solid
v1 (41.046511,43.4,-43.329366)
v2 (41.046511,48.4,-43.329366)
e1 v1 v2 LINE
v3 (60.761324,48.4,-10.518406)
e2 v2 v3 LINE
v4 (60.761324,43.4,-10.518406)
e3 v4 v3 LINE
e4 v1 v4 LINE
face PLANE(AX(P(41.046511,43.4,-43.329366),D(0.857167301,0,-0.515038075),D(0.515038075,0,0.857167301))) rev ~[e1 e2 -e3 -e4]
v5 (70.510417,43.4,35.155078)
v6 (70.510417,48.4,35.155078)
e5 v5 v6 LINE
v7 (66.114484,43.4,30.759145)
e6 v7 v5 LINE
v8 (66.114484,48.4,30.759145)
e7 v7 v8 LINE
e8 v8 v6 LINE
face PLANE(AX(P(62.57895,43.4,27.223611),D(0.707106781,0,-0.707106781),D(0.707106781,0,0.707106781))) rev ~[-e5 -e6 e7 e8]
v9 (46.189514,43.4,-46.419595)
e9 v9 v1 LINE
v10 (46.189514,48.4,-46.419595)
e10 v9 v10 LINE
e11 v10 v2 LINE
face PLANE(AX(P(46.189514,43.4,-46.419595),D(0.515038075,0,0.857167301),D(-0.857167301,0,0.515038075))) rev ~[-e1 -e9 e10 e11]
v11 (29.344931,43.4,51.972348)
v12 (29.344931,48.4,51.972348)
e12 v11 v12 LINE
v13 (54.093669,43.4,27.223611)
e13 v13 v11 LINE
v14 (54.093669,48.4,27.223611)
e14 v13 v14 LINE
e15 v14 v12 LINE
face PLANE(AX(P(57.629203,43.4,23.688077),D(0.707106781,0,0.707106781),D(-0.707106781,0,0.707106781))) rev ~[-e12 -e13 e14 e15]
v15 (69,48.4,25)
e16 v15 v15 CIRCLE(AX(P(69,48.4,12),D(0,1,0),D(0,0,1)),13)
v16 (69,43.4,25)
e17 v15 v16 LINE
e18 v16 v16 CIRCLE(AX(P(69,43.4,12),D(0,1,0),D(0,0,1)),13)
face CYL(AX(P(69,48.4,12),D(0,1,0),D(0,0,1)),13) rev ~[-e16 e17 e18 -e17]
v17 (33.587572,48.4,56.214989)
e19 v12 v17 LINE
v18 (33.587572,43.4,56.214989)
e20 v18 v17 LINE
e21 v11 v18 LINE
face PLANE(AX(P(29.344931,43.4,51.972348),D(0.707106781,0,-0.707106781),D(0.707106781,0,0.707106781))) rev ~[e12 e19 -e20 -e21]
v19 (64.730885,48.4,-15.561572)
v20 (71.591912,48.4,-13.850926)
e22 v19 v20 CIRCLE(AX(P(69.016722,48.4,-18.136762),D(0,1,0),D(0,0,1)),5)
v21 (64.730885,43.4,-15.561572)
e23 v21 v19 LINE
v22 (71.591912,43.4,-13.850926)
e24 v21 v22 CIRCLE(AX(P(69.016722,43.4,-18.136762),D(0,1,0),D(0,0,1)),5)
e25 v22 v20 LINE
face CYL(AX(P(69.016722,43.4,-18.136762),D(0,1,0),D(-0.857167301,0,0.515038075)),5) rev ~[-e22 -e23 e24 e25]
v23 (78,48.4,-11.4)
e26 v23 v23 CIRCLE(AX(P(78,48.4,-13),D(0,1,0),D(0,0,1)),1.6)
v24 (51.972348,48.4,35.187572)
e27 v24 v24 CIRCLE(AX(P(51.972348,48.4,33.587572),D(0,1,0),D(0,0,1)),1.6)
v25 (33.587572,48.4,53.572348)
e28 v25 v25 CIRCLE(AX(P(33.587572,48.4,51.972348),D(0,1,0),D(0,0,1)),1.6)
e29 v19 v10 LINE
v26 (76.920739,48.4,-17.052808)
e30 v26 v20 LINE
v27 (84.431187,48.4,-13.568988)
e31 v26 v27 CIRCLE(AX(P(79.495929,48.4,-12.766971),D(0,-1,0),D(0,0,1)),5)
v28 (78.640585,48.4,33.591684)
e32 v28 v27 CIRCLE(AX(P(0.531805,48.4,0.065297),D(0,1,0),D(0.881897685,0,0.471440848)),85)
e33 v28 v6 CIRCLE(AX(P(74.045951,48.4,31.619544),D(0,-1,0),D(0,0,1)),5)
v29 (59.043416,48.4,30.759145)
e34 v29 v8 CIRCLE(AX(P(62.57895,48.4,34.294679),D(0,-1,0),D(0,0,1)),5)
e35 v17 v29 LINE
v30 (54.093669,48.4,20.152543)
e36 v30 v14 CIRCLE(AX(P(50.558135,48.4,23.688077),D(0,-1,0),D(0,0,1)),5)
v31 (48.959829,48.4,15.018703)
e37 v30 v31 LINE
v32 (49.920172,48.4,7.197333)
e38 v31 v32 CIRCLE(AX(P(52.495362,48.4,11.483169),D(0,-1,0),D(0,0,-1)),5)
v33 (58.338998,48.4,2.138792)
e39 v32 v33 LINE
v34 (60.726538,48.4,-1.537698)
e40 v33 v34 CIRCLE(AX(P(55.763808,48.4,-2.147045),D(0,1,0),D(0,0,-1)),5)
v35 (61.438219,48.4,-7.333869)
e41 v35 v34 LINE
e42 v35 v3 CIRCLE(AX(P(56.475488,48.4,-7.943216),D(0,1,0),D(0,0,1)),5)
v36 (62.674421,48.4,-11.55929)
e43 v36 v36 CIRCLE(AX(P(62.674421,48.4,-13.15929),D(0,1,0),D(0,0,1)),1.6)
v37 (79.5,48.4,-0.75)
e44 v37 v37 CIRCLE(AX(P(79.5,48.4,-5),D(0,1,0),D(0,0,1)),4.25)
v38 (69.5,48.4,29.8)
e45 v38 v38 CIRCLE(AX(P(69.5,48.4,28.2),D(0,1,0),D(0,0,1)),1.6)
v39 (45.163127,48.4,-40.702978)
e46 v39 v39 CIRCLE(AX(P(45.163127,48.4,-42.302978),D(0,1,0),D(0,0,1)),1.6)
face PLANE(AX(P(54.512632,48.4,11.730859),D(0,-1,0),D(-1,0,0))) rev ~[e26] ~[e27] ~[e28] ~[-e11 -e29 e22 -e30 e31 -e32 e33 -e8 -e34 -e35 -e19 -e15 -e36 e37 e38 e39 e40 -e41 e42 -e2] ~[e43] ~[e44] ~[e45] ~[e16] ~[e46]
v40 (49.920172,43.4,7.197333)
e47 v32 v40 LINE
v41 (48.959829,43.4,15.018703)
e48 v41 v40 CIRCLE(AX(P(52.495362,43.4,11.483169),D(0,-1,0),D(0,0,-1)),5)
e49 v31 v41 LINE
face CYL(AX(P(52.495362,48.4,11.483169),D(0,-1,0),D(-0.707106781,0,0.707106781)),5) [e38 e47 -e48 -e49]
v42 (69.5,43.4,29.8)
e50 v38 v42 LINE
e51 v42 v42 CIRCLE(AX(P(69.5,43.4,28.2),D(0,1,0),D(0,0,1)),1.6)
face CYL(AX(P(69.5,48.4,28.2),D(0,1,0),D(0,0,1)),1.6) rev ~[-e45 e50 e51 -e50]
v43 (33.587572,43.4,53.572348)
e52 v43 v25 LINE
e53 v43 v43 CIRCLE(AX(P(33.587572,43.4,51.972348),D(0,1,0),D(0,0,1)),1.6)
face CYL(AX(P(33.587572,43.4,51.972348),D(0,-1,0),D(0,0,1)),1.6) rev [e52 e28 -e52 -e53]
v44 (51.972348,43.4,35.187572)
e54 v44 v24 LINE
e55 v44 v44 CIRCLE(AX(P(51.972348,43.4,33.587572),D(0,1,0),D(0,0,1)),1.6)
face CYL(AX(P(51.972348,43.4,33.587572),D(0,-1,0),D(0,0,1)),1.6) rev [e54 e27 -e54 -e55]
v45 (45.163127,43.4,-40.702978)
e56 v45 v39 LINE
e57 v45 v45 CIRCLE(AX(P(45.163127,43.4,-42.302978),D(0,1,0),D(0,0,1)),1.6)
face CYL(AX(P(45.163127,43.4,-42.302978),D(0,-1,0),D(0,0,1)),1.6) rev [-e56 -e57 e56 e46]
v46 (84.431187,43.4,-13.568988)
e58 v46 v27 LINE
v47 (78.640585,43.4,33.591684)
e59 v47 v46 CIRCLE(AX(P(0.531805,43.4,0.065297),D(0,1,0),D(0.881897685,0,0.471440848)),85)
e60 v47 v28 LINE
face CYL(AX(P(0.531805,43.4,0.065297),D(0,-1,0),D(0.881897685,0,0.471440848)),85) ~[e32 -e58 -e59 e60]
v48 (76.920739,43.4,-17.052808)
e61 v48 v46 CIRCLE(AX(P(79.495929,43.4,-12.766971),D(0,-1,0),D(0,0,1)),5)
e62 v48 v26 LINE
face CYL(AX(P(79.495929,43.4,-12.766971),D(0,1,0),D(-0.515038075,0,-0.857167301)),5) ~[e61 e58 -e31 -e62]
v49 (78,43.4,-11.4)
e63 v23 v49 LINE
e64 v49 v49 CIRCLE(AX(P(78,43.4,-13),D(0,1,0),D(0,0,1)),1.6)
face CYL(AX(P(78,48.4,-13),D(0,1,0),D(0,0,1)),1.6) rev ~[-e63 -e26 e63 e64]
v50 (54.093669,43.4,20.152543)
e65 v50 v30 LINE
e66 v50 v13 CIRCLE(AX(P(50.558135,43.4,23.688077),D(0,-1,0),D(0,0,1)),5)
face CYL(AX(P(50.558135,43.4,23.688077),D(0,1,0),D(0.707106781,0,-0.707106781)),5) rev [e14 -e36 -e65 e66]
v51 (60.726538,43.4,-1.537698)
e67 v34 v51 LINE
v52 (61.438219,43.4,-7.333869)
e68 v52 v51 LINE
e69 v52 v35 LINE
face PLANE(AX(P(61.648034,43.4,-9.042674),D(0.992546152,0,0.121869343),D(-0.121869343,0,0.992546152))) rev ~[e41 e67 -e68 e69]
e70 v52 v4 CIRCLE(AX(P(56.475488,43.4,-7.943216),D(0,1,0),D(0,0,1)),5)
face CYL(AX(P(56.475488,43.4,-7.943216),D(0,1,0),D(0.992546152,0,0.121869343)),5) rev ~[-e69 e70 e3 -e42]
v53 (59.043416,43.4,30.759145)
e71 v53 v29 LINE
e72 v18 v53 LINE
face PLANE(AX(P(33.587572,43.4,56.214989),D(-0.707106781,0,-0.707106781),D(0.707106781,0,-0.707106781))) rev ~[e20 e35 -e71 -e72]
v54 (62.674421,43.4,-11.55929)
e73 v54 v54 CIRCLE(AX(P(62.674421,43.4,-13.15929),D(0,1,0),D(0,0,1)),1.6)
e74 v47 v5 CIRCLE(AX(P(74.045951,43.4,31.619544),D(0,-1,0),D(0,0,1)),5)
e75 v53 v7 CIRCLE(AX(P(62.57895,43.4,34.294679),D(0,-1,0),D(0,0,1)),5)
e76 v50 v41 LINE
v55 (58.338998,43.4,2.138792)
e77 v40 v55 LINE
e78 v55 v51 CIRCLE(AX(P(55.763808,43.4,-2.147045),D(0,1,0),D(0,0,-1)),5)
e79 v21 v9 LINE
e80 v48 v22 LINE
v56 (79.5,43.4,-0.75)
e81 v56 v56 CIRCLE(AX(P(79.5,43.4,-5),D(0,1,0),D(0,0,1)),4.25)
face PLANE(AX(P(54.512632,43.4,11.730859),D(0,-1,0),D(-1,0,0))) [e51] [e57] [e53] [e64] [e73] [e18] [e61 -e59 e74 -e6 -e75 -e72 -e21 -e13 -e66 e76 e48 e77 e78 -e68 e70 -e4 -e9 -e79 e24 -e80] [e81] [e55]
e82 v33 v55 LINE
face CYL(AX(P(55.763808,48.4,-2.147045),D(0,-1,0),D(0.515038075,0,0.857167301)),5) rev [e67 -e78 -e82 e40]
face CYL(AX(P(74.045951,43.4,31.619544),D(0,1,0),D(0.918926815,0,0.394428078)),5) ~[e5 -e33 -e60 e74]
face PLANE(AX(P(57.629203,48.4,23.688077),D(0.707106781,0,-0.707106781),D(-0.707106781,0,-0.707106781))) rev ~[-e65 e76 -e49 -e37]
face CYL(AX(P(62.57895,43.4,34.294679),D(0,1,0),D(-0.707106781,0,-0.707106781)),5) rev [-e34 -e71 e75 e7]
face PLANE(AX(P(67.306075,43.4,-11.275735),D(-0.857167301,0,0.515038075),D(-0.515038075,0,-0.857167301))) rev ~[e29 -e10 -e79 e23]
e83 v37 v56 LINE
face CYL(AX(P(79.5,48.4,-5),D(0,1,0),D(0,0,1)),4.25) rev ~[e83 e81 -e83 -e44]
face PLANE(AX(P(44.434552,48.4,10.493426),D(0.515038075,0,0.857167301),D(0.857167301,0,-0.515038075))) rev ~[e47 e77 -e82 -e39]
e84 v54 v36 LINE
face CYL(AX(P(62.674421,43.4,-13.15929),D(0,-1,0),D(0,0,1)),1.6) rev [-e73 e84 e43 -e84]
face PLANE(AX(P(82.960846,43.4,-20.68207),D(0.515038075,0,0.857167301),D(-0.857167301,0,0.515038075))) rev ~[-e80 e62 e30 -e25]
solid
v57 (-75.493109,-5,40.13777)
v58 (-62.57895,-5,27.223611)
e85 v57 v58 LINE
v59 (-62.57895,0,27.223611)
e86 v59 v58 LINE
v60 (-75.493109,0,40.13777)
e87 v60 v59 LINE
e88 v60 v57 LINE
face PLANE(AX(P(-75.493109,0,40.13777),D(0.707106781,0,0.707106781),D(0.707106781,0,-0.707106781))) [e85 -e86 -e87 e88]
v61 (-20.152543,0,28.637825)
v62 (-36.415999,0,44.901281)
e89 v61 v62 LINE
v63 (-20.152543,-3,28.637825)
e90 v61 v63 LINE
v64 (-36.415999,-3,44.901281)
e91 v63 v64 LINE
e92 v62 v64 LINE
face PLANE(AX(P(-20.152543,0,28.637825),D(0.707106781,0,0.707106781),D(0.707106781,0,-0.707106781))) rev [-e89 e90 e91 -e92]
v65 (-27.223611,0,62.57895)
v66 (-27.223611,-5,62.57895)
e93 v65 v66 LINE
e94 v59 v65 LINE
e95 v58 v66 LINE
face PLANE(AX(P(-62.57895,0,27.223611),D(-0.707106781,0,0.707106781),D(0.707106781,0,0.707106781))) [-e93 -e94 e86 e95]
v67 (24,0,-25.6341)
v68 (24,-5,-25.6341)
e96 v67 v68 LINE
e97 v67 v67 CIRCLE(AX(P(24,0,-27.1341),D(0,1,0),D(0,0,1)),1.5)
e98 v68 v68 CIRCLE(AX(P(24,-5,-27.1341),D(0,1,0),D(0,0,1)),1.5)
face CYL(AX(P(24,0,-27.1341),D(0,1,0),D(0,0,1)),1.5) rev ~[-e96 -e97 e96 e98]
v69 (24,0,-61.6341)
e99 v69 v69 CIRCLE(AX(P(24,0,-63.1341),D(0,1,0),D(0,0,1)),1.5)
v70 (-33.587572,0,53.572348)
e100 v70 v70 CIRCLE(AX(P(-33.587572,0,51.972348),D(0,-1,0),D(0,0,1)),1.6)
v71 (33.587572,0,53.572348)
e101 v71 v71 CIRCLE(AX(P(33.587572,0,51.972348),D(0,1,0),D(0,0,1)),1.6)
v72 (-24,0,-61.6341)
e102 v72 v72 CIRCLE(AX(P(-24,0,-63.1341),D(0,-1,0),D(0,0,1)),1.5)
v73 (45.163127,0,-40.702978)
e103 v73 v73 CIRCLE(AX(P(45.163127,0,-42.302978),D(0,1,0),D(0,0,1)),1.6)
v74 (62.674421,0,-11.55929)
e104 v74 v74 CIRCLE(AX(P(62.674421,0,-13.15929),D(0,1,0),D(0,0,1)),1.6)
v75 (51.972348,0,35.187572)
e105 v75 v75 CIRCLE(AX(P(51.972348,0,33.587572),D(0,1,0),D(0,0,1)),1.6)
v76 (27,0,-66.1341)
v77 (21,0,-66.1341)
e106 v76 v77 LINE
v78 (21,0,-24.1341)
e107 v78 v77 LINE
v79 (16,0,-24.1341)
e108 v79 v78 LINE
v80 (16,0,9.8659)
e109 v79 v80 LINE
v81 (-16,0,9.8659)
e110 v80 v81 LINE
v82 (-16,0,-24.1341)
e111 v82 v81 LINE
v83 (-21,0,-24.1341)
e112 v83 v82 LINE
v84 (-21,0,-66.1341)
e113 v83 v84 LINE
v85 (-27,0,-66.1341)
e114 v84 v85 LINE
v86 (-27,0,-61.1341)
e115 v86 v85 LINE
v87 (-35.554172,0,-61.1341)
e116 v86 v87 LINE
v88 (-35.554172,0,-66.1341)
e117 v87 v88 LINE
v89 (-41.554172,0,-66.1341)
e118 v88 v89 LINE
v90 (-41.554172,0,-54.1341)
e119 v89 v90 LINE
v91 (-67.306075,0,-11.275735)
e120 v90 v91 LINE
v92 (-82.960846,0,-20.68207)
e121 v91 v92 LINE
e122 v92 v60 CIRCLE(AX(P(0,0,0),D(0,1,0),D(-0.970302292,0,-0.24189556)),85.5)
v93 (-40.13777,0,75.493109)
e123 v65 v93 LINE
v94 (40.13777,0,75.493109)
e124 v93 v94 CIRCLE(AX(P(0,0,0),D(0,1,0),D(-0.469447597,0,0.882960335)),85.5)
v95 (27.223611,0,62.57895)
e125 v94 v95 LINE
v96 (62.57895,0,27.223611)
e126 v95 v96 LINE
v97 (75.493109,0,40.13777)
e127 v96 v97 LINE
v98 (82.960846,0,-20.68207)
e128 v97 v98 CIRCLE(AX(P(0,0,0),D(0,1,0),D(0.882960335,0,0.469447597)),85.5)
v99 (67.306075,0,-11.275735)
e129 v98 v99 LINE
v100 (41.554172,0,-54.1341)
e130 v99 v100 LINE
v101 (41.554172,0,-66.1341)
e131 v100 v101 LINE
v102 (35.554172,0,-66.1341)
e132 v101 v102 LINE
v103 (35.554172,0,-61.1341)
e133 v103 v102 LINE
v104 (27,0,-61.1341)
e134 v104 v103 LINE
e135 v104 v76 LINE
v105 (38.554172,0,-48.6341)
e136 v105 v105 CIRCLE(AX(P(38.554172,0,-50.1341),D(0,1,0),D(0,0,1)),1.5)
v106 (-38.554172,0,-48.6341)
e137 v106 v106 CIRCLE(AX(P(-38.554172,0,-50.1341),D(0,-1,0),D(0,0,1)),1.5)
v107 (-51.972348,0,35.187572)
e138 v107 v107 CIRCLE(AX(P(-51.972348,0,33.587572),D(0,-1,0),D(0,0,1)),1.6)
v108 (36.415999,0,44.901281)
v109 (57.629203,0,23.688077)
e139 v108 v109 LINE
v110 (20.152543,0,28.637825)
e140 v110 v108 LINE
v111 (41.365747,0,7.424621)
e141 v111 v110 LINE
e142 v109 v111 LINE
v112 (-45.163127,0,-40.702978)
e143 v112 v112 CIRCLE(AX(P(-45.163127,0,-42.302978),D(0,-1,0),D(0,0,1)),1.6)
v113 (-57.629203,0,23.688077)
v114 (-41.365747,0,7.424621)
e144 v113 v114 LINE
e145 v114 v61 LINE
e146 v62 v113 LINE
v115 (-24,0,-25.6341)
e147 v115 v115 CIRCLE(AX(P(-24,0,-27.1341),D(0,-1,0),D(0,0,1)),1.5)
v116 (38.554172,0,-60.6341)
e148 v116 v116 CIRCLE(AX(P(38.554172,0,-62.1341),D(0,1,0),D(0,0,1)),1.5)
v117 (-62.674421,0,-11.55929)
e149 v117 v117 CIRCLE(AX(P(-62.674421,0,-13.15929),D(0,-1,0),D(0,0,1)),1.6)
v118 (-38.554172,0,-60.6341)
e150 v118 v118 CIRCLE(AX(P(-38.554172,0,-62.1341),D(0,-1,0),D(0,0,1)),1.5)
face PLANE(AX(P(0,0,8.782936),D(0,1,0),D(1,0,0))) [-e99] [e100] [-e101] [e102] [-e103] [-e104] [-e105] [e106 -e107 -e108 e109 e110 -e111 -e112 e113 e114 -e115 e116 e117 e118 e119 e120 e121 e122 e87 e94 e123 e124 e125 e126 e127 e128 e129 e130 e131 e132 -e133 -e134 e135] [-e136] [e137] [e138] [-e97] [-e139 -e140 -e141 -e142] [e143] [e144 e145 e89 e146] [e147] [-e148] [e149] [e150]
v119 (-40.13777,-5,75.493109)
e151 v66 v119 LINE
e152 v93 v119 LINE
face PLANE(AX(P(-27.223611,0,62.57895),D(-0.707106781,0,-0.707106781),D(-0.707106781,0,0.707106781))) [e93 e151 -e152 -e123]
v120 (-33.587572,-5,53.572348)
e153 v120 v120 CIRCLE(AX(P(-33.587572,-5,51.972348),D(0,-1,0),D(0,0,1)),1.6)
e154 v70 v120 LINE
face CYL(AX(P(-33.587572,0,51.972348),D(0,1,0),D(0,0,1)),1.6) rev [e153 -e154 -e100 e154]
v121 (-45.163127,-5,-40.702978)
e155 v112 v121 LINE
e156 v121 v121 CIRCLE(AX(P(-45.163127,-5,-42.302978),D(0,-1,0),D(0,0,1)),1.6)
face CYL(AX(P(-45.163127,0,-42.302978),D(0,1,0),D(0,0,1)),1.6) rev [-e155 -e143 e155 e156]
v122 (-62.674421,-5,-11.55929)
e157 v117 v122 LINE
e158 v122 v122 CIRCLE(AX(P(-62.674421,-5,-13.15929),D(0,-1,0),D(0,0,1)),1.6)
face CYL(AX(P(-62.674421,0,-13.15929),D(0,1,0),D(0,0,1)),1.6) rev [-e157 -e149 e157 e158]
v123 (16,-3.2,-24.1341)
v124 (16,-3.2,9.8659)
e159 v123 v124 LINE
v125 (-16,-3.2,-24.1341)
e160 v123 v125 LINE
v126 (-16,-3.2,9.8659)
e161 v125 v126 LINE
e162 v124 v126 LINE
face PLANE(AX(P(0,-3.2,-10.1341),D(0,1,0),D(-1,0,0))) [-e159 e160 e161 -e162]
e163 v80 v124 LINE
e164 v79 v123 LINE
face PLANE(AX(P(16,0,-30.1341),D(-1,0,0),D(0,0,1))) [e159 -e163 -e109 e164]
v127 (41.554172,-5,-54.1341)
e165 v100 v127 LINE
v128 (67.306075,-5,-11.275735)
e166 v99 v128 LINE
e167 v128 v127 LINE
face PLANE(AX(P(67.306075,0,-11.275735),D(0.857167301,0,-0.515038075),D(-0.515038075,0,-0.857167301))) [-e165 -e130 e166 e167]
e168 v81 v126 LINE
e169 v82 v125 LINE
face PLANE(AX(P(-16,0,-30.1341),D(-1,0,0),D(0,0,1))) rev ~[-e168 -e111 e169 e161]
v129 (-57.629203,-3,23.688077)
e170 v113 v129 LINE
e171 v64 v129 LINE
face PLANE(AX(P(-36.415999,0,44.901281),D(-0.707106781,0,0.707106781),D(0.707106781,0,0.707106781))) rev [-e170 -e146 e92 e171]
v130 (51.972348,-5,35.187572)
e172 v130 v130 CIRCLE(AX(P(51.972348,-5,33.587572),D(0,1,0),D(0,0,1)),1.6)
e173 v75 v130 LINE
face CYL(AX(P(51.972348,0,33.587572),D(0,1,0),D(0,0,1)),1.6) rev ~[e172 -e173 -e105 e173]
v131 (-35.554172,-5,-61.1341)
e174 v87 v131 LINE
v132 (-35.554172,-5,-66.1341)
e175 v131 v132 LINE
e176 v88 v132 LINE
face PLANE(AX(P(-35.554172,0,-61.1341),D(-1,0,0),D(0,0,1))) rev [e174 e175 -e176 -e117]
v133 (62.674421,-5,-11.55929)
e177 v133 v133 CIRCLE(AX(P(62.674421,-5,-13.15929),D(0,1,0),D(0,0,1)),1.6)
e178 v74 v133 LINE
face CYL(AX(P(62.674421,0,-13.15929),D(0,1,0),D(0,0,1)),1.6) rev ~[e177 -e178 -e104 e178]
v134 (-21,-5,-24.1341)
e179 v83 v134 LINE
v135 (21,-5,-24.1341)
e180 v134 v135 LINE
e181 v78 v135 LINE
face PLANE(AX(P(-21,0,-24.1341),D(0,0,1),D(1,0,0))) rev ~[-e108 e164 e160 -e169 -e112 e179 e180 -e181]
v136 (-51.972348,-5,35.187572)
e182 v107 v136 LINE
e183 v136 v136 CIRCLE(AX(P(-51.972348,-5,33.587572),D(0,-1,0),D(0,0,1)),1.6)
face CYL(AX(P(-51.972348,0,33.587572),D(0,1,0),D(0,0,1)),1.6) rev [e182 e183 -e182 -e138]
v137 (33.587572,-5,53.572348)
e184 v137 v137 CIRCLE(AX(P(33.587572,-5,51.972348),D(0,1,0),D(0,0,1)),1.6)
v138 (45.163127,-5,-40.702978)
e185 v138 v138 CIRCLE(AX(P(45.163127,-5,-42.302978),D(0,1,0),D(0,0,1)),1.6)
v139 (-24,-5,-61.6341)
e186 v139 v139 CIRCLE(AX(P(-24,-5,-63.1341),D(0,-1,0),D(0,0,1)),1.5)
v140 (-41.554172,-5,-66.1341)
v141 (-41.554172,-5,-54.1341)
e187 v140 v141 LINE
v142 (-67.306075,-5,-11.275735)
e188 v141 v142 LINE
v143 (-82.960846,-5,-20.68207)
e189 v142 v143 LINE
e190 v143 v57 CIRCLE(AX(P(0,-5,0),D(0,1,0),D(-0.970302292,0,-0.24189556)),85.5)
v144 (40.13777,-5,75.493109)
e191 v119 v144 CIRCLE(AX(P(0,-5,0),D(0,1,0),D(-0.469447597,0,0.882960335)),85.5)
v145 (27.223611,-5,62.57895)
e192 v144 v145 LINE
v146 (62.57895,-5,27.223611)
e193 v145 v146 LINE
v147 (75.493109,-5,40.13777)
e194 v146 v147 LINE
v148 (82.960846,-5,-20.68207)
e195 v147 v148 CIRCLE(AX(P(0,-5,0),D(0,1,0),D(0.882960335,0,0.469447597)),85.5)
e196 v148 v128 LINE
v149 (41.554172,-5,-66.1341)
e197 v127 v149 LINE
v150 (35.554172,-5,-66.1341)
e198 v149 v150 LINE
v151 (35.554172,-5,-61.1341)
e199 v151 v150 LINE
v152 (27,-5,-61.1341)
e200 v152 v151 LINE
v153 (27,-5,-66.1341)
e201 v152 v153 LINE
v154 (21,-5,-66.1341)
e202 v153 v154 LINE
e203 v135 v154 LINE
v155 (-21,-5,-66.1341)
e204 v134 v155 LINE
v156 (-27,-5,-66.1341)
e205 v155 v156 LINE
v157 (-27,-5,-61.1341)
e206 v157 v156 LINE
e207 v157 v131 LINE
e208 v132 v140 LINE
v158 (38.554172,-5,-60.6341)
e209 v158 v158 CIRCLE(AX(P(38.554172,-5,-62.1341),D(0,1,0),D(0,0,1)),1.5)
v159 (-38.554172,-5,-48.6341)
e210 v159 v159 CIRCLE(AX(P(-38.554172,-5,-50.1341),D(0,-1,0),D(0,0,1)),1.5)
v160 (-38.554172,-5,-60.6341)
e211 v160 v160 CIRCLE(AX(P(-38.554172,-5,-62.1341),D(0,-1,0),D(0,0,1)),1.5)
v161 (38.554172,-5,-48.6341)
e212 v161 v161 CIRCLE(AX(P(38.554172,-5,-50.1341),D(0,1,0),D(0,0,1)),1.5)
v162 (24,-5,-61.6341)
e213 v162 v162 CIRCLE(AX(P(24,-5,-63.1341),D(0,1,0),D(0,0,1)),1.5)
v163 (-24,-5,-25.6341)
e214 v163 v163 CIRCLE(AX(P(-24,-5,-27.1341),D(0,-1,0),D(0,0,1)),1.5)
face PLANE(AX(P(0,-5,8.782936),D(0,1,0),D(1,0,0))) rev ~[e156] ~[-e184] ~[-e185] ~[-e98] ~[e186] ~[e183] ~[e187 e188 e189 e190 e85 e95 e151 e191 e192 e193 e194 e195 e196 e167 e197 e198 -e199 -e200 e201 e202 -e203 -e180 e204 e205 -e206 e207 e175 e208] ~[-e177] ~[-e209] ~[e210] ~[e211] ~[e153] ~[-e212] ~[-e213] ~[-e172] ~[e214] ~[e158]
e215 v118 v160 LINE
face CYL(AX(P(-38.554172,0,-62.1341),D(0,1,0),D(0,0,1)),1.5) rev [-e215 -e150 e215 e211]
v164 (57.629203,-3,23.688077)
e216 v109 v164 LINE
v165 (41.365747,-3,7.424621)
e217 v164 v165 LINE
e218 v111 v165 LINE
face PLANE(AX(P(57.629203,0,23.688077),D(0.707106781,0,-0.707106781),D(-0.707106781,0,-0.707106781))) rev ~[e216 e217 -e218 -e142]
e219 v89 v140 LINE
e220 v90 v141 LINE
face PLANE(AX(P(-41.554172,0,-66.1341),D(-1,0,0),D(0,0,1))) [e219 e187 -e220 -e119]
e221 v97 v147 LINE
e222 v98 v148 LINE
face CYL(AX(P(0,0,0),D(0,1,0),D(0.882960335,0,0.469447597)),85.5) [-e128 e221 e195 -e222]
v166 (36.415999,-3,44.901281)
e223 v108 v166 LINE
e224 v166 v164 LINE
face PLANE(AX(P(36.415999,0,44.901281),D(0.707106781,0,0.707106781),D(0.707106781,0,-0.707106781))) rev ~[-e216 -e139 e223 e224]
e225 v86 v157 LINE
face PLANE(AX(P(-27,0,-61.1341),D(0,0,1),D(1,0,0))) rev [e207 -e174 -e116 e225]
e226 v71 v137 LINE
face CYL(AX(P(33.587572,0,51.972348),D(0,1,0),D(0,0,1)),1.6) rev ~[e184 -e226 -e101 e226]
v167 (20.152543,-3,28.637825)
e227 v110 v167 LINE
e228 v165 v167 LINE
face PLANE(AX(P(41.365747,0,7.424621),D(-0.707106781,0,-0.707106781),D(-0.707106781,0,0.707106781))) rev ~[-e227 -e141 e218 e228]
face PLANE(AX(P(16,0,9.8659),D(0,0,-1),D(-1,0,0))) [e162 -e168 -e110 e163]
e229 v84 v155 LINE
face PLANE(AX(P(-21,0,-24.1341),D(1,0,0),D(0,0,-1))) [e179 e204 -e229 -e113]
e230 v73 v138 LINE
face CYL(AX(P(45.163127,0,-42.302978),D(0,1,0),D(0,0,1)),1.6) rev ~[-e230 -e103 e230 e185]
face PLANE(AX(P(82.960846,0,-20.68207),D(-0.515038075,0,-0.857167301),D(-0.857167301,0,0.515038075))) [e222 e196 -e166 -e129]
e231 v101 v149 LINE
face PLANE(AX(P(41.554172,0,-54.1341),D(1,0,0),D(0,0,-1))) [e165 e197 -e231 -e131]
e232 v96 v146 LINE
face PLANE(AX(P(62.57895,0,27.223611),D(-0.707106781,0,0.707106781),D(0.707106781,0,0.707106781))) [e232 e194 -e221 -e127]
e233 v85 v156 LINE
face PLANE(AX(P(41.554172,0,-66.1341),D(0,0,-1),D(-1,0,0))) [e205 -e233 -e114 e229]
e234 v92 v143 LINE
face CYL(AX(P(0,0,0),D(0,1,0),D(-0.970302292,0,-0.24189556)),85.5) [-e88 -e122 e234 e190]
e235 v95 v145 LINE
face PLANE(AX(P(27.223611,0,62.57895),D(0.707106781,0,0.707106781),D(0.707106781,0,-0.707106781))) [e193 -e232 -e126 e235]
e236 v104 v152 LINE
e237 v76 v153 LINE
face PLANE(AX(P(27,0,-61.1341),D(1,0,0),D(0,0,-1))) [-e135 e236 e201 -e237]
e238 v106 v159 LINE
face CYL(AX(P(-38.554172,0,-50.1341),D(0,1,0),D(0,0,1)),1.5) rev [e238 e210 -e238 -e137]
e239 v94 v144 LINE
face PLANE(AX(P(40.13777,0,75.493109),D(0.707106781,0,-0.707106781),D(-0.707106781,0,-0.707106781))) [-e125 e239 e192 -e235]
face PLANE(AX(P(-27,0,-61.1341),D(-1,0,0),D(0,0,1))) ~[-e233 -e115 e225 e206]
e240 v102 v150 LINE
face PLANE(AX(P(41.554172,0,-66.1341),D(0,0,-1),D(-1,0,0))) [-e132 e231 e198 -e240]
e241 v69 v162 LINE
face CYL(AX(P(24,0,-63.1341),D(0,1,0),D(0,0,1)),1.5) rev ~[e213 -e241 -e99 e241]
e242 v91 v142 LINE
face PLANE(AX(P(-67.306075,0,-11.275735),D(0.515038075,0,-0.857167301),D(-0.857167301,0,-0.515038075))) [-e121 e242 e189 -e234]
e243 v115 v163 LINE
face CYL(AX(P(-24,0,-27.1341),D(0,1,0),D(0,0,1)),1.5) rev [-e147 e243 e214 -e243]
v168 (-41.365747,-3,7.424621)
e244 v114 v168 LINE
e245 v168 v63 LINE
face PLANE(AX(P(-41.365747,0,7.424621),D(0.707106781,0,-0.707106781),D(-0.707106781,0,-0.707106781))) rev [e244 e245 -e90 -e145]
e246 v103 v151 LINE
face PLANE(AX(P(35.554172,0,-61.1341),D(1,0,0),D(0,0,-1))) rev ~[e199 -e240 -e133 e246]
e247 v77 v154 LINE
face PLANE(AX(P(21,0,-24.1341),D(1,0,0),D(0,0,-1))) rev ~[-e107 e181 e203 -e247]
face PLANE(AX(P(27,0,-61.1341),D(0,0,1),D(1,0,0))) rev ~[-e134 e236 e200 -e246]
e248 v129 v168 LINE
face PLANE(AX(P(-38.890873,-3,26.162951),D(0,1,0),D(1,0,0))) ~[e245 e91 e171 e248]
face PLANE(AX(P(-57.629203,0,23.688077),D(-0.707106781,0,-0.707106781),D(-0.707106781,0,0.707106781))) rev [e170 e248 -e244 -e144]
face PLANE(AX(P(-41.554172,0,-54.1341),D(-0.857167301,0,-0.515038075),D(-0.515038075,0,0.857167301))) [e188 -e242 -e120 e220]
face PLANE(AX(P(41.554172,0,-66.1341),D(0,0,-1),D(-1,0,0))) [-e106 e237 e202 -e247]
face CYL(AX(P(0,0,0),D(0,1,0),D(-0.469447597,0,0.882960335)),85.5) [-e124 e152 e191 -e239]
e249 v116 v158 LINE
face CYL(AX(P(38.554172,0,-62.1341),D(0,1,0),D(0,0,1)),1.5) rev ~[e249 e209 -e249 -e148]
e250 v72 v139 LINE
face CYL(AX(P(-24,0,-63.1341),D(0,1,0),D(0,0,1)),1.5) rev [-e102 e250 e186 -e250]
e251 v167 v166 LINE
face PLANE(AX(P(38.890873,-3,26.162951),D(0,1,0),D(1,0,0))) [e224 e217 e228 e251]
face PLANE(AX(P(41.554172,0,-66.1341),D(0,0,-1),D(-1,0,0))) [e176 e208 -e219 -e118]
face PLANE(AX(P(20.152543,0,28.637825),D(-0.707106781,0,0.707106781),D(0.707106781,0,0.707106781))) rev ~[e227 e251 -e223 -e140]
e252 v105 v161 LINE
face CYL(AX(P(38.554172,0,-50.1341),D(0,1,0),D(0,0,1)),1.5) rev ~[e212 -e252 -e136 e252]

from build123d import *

# Parameters (mm, degrees)
EXTRUDE1_DEPTH  = 5
SKETCH3_W       = 42
SKETCH3_H       = 47
EXTRUDE2_DEPTH  = 5
SKETCH4_W       = 32
SKETCH4_H       = 40
EXTRUDE3_DEPTH  = 3.2
EXTRUDE4_DEPTH  = 3
SKETCH6_R       = 1.6
EXTRUDE5_DEPTH  = 5
SKETCH7_R       = 1.5
EXTRUDE6_DEPTH  = 5
SKETCH8_W       = 8.554171722
SKETCH8_H       = 7
EXTRUDE7_DEPTH  = 5
SKETCH9_R       = 1.5
EXTRUDE8_DEPTH  = 5
SKETCH10_R      = 1.6
EXTRUDE9_DEPTH  = 5
SKETCH14_R      = 4.25
EXTRUDE12_DEPTH = 5
SKETCH18_R      = 1.6
EXTRUDE16_DEPTH = 5
EXTRUDE18_DEPTH = 5
FILLET5_R       = 5
SKETCH23_R      = 1.6
EXTRUDE19_DEPTH = 5
SKETCH17_R      = 13
EXTRUDE20_DEPTH = 5


with BuildPart() as part:
    # Sketch2 → Extrude1 (new body)
    with BuildSketch(Plane(origin=(0, 0, 0), x_dir=(1, 0, 0), z_dir=(0, 1, 0))):
        with BuildLine():
            Line((82.960845984, 20.682070342), (67.306075467, 11.275735239))
            Line((67.306075467, 11.275735239), (41.554171722, 54.134100274))
            Line((41.554171722, 54.134100274), (41.554171722, 66.134100274))
            Line((41.554171722, 66.134100274), (-41.554171722, 66.134100274))
            Line((-41.554171722, 66.134100274), (-41.554171722, 54.134100274))
            Line((-41.554171722, 54.134100274), (-67.306075467, 11.275735239))
            Line((-67.306075467, 11.275735239), (-82.960845984, 20.682070342))
            ThreePointArc((-82.960845984, 20.682070342), (-84.862695965, -10.419828861), (-75.493108644, -40.137769585))
            Line((-75.493108644, -40.137769585), (-62.578950135, -27.223611076))
            Line((-62.578950135, -27.223611076), (-27.223611076, -62.578950135))
            Line((-27.223611076, -62.578950135), (-40.137769585, -75.493108644))
            ThreePointArc((-40.137769585, -75.493108644), (0, -85.5), (40.137769585, -75.493108644))
            Line((40.137769585, -75.493108644), (27.223611076, -62.578950135))
            Line((27.223611076, -62.578950135), (62.578950135, -27.223611076))
            Line((62.578950135, -27.223611076), (75.493108644, -40.137769585))
            ThreePointArc((75.493108644, -40.137769585), (84.862695965, -10.419828861), (82.960845984, 20.682070342))
        make_face()
    extrude(amount=-EXTRUDE1_DEPTH)

    # Sketch3 → Extrude2 (cut)
    with BuildSketch(Plane(origin=(0, 0, 0), x_dir=(1, 0, 0), z_dir=(0, 1, 0))):
        with Locations((0, 47.634100274)):
            Rectangle(SKETCH3_W, SKETCH3_H)
    extrude(amount=-EXTRUDE2_DEPTH, mode=Mode.SUBTRACT)

    # Sketch4 → Extrude3 (cut)
    with BuildSketch(Plane(origin=(0, 0, 0), x_dir=(-1, 0, 0), z_dir=(0, 1, 0))):
        with Locations((0, -10.134100274)):
            Rectangle(SKETCH4_W, SKETCH4_H)
    extrude(amount=-EXTRUDE3_DEPTH, mode=Mode.SUBTRACT)

    # Sketch5 → Extrude4 (cut)
    with BuildSketch(Plane(origin=(0, 0, 0), x_dir=(1, 0, 0), z_dir=(0, 1, 0))):
        Polygon((36.415999231, -44.901280605), (57.629202667, -23.68807717), (41.365746699, -7.424621202), (20.152543264, -28.637824638), align=None)
    extrude4 = extrude(amount=-EXTRUDE4_DEPTH, mode=Mode.SUBTRACT)

    # Mirror1: Extrude4 across plane
    add(extrude4.mirror(Plane(origin=(0, 0, 0), x_dir=(0, 0, 1), z_dir=(1, 0, 0))), mode=Mode.SUBTRACT)

    # Sketch6 → Extrude5 (cut)
    with BuildSketch(Plane(origin=(0, 0, 0), x_dir=(1, 0, 0), z_dir=(0, 1, 0))):
        with Locations(Location((45.163126719, 42.302978441, 0), (0, 0, 270))):
            Circle(SKETCH6_R)
        with Locations(Location((62.674421266, 13.159290217, 0), (0, 0, 270))):
            Circle(SKETCH6_R)
        with Locations(Location((51.972348417, -33.587572106, 0), (0, 0, 270))):
            Circle(SKETCH6_R)
        with Locations(Location((33.587572106, -51.972348417, 0), (0, 0, 270))):
            Circle(SKETCH6_R)
    extrude5 = extrude(amount=-EXTRUDE5_DEPTH, mode=Mode.SUBTRACT)

    # Mirror2: Extrude5 across plane
    add(extrude5.mirror(Plane(origin=(0, 0, 0), x_dir=(0, 0, 1), z_dir=(1, 0, 0))), mode=Mode.SUBTRACT)

    # Sketch7 → Extrude6 (cut)
    with BuildSketch(Plane(origin=(0, 0, 0), x_dir=(-1, 0, 0), z_dir=(0, 1, 0))):
        with Locations(Location((-24, -63.134100274, 0), (0, 0, 90))):
            Circle(SKETCH7_R)
        with Locations(Location((-24, -27.134100274, 0), (0, 0, 90))):
            Circle(SKETCH7_R)
    extrude6 = extrude(amount=-EXTRUDE6_DEPTH, mode=Mode.SUBTRACT)

    # Mirror3: Extrude6 across plane
    add(extrude6.mirror(Plane(origin=(0, 0, 0), x_dir=(0, 0, 1), z_dir=(1, 0, 0))), mode=Mode.SUBTRACT)

    # Sketch8 → Extrude7 (cut)
    with BuildSketch(Plane(origin=(0, 0, 0), x_dir=(1, 0, 0), z_dir=(0, 1, 0))):
        with Locations((31.277085861, 64.634100274)):
            Rectangle(SKETCH8_W, SKETCH8_H)
    extrude7 = extrude(amount=-EXTRUDE7_DEPTH, mode=Mode.SUBTRACT)

    # Mirror4: Extrude7 across plane
    add(extrude7.mirror(Plane(origin=(0, 0, 0), x_dir=(0, 0, 1), z_dir=(1, 0, 0))), mode=Mode.SUBTRACT)

    # Sketch9 → Extrude8 (cut)
    with BuildSketch(Plane(origin=(0, 0, 0), x_dir=(1, 0, 0), z_dir=(0, 1, 0))):
        with Locations(Location((38.554171722, 62.134100274, 0), (0, 0, 270))):
            Circle(SKETCH9_R)
        with Locations(Location((38.554171722, 50.134100274, 0), (0, 0, 270))):
            Circle(SKETCH9_R)
    extrude8 = extrude(amount=-EXTRUDE8_DEPTH, mode=Mode.SUBTRACT)

    # Mirror5: Extrude8 across plane
    add(extrude8.mirror(Plane(origin=(0, 0, 0), x_dir=(0, 0, 1), z_dir=(1, 0, 0))), mode=Mode.SUBTRACT)


with BuildPart() as body_2:
    # Sketch10 → Extrude9 (new body)
    with BuildSketch(Plane(origin=(0, 43.4, 0), x_dir=(-1, 0, 0), z_dir=(0, 1, 0))):
        with BuildLine():
            Line((-46.189514396, -46.419594568), (-41.046510592, -43.329366119))
            Line((-41.046510592, -43.329366119), (-61.648033588, -9.04267409))
            Line((-61.648033588, -9.04267409), (-57.629202667, 23.68807717))
            Line((-57.629202667, 23.68807717), (-29.344931419, 51.972348417))
            Line((-29.344931419, 51.972348417), (-33.587572106, 56.214989104))
            Line((-33.587572106, 56.214989104), (-62.578950135, 27.223611076))
            Line((-62.578950135, 27.223611076), (-75.493108644, 40.137769585))
            ThreePointArc((-75.493108644, 40.137769585), (-84.898228312, 10.424191685), (-82.960845984, -20.682070342))
            Line((-82.960845984, -20.682070342), (-67.306075467, -11.275735239))
            Line((-67.306075467, -11.275735239), (-46.189514396, -46.419594568))
        make_face()
        with Locations(Location((-45.163126719, -42.302978441, 0), (0, 0, 90))):
            Circle(SKETCH10_R, mode=Mode.SUBTRACT)
        with Locations(Location((-62.674421266, -13.159290217, 0), (0, 0, 90))):
            Circle(SKETCH10_R, mode=Mode.SUBTRACT)
        with Locations(Location((-51.972348417, 33.587572106, 0), (0, 0, 90))):
            Circle(SKETCH10_R, mode=Mode.SUBTRACT)
        with Locations(Location((-33.587572106, 51.972348417, 0), (0, 0, 90))):
            Circle(SKETCH10_R, mode=Mode.SUBTRACT)
    extrude(amount=EXTRUDE9_DEPTH)

    # Sketch14 → Extrude12 (cut)
    with BuildSketch(Plane(origin=(0, 48.4, 0), x_dir=(1, 0, 0), z_dir=(0, 1, 0))):
        with Locations(Location((79.5, 5, 0), (0, 0, 270))):
            Circle(SKETCH14_R)
    extrude(amount=-EXTRUDE12_DEPTH, mode=Mode.SUBTRACT)

    # Sketch18 → Extrude16 (cut)
    with BuildSketch(Plane(origin=(0, 48.4, 0), x_dir=(1, 0, 0), z_dir=(0, 1, 0))):
        with Locations(Location((78, 13, 0), (0, 0, 270))):
            Circle(SKETCH18_R)
    extrude(amount=-EXTRUDE16_DEPTH, mode=Mode.SUBTRACT)

    # Sketch21 → Extrude18 (add)
    with BuildSketch(Plane(origin=(0, 48.4, 0), x_dir=(1, 0, 0), z_dir=(0, 1, 0))):
        Polygon((57.629202667, -23.68807717), (44.434551522, -10.493426025), (60.429340154, -0.882787426), align=None)
    extrude(amount=-EXTRUDE18_DEPTH)

    # Fillet5
    fillet5_edges = [body_2.edges().sort_by_distance(p)[0] for p in [
        (67.306075467, 45.9, -11.275735239),
        (82.960845984, 45.9, -20.682070342),
        (75.493108644, 45.9, 40.137769585),
        (62.578950135, 45.9, 27.223611076),
        (57.629202667, 45.9, 23.68807717),
        (61.648033588, 45.9, -9.04267409),
        (44.434551522, 45.9, 10.493426025),
        (60.429340154, 45.9, 0.882787426),
    ]]
    fillet(fillet5_edges, radius=FILLET5_R)

    # Sketch23 → Extrude19 (cut)
    with BuildSketch(Plane(origin=(0, 48.4, 0), x_dir=(1, 0, 0), z_dir=(0, 1, 0))):
        with Locations(Location((69.5, -28.2, 0), (0, 0, 270))):
            Circle(SKETCH23_R)
    extrude(amount=-EXTRUDE19_DEPTH, mode=Mode.SUBTRACT)

    # Sketch17 → Extrude20 (cut)
    with BuildSketch(Plane(origin=(0, 48.4, 0), x_dir=(1, 0, 0), z_dir=(0, 1, 0))):
        with Locations(Location((69, -12, 0), (0, 0, 270))):
            Circle(SKETCH17_R)
    extrude(amount=-EXTRUDE20_DEPTH, mode=Mode.SUBTRACT)


solid = Compound([part.part, body_2.part])
